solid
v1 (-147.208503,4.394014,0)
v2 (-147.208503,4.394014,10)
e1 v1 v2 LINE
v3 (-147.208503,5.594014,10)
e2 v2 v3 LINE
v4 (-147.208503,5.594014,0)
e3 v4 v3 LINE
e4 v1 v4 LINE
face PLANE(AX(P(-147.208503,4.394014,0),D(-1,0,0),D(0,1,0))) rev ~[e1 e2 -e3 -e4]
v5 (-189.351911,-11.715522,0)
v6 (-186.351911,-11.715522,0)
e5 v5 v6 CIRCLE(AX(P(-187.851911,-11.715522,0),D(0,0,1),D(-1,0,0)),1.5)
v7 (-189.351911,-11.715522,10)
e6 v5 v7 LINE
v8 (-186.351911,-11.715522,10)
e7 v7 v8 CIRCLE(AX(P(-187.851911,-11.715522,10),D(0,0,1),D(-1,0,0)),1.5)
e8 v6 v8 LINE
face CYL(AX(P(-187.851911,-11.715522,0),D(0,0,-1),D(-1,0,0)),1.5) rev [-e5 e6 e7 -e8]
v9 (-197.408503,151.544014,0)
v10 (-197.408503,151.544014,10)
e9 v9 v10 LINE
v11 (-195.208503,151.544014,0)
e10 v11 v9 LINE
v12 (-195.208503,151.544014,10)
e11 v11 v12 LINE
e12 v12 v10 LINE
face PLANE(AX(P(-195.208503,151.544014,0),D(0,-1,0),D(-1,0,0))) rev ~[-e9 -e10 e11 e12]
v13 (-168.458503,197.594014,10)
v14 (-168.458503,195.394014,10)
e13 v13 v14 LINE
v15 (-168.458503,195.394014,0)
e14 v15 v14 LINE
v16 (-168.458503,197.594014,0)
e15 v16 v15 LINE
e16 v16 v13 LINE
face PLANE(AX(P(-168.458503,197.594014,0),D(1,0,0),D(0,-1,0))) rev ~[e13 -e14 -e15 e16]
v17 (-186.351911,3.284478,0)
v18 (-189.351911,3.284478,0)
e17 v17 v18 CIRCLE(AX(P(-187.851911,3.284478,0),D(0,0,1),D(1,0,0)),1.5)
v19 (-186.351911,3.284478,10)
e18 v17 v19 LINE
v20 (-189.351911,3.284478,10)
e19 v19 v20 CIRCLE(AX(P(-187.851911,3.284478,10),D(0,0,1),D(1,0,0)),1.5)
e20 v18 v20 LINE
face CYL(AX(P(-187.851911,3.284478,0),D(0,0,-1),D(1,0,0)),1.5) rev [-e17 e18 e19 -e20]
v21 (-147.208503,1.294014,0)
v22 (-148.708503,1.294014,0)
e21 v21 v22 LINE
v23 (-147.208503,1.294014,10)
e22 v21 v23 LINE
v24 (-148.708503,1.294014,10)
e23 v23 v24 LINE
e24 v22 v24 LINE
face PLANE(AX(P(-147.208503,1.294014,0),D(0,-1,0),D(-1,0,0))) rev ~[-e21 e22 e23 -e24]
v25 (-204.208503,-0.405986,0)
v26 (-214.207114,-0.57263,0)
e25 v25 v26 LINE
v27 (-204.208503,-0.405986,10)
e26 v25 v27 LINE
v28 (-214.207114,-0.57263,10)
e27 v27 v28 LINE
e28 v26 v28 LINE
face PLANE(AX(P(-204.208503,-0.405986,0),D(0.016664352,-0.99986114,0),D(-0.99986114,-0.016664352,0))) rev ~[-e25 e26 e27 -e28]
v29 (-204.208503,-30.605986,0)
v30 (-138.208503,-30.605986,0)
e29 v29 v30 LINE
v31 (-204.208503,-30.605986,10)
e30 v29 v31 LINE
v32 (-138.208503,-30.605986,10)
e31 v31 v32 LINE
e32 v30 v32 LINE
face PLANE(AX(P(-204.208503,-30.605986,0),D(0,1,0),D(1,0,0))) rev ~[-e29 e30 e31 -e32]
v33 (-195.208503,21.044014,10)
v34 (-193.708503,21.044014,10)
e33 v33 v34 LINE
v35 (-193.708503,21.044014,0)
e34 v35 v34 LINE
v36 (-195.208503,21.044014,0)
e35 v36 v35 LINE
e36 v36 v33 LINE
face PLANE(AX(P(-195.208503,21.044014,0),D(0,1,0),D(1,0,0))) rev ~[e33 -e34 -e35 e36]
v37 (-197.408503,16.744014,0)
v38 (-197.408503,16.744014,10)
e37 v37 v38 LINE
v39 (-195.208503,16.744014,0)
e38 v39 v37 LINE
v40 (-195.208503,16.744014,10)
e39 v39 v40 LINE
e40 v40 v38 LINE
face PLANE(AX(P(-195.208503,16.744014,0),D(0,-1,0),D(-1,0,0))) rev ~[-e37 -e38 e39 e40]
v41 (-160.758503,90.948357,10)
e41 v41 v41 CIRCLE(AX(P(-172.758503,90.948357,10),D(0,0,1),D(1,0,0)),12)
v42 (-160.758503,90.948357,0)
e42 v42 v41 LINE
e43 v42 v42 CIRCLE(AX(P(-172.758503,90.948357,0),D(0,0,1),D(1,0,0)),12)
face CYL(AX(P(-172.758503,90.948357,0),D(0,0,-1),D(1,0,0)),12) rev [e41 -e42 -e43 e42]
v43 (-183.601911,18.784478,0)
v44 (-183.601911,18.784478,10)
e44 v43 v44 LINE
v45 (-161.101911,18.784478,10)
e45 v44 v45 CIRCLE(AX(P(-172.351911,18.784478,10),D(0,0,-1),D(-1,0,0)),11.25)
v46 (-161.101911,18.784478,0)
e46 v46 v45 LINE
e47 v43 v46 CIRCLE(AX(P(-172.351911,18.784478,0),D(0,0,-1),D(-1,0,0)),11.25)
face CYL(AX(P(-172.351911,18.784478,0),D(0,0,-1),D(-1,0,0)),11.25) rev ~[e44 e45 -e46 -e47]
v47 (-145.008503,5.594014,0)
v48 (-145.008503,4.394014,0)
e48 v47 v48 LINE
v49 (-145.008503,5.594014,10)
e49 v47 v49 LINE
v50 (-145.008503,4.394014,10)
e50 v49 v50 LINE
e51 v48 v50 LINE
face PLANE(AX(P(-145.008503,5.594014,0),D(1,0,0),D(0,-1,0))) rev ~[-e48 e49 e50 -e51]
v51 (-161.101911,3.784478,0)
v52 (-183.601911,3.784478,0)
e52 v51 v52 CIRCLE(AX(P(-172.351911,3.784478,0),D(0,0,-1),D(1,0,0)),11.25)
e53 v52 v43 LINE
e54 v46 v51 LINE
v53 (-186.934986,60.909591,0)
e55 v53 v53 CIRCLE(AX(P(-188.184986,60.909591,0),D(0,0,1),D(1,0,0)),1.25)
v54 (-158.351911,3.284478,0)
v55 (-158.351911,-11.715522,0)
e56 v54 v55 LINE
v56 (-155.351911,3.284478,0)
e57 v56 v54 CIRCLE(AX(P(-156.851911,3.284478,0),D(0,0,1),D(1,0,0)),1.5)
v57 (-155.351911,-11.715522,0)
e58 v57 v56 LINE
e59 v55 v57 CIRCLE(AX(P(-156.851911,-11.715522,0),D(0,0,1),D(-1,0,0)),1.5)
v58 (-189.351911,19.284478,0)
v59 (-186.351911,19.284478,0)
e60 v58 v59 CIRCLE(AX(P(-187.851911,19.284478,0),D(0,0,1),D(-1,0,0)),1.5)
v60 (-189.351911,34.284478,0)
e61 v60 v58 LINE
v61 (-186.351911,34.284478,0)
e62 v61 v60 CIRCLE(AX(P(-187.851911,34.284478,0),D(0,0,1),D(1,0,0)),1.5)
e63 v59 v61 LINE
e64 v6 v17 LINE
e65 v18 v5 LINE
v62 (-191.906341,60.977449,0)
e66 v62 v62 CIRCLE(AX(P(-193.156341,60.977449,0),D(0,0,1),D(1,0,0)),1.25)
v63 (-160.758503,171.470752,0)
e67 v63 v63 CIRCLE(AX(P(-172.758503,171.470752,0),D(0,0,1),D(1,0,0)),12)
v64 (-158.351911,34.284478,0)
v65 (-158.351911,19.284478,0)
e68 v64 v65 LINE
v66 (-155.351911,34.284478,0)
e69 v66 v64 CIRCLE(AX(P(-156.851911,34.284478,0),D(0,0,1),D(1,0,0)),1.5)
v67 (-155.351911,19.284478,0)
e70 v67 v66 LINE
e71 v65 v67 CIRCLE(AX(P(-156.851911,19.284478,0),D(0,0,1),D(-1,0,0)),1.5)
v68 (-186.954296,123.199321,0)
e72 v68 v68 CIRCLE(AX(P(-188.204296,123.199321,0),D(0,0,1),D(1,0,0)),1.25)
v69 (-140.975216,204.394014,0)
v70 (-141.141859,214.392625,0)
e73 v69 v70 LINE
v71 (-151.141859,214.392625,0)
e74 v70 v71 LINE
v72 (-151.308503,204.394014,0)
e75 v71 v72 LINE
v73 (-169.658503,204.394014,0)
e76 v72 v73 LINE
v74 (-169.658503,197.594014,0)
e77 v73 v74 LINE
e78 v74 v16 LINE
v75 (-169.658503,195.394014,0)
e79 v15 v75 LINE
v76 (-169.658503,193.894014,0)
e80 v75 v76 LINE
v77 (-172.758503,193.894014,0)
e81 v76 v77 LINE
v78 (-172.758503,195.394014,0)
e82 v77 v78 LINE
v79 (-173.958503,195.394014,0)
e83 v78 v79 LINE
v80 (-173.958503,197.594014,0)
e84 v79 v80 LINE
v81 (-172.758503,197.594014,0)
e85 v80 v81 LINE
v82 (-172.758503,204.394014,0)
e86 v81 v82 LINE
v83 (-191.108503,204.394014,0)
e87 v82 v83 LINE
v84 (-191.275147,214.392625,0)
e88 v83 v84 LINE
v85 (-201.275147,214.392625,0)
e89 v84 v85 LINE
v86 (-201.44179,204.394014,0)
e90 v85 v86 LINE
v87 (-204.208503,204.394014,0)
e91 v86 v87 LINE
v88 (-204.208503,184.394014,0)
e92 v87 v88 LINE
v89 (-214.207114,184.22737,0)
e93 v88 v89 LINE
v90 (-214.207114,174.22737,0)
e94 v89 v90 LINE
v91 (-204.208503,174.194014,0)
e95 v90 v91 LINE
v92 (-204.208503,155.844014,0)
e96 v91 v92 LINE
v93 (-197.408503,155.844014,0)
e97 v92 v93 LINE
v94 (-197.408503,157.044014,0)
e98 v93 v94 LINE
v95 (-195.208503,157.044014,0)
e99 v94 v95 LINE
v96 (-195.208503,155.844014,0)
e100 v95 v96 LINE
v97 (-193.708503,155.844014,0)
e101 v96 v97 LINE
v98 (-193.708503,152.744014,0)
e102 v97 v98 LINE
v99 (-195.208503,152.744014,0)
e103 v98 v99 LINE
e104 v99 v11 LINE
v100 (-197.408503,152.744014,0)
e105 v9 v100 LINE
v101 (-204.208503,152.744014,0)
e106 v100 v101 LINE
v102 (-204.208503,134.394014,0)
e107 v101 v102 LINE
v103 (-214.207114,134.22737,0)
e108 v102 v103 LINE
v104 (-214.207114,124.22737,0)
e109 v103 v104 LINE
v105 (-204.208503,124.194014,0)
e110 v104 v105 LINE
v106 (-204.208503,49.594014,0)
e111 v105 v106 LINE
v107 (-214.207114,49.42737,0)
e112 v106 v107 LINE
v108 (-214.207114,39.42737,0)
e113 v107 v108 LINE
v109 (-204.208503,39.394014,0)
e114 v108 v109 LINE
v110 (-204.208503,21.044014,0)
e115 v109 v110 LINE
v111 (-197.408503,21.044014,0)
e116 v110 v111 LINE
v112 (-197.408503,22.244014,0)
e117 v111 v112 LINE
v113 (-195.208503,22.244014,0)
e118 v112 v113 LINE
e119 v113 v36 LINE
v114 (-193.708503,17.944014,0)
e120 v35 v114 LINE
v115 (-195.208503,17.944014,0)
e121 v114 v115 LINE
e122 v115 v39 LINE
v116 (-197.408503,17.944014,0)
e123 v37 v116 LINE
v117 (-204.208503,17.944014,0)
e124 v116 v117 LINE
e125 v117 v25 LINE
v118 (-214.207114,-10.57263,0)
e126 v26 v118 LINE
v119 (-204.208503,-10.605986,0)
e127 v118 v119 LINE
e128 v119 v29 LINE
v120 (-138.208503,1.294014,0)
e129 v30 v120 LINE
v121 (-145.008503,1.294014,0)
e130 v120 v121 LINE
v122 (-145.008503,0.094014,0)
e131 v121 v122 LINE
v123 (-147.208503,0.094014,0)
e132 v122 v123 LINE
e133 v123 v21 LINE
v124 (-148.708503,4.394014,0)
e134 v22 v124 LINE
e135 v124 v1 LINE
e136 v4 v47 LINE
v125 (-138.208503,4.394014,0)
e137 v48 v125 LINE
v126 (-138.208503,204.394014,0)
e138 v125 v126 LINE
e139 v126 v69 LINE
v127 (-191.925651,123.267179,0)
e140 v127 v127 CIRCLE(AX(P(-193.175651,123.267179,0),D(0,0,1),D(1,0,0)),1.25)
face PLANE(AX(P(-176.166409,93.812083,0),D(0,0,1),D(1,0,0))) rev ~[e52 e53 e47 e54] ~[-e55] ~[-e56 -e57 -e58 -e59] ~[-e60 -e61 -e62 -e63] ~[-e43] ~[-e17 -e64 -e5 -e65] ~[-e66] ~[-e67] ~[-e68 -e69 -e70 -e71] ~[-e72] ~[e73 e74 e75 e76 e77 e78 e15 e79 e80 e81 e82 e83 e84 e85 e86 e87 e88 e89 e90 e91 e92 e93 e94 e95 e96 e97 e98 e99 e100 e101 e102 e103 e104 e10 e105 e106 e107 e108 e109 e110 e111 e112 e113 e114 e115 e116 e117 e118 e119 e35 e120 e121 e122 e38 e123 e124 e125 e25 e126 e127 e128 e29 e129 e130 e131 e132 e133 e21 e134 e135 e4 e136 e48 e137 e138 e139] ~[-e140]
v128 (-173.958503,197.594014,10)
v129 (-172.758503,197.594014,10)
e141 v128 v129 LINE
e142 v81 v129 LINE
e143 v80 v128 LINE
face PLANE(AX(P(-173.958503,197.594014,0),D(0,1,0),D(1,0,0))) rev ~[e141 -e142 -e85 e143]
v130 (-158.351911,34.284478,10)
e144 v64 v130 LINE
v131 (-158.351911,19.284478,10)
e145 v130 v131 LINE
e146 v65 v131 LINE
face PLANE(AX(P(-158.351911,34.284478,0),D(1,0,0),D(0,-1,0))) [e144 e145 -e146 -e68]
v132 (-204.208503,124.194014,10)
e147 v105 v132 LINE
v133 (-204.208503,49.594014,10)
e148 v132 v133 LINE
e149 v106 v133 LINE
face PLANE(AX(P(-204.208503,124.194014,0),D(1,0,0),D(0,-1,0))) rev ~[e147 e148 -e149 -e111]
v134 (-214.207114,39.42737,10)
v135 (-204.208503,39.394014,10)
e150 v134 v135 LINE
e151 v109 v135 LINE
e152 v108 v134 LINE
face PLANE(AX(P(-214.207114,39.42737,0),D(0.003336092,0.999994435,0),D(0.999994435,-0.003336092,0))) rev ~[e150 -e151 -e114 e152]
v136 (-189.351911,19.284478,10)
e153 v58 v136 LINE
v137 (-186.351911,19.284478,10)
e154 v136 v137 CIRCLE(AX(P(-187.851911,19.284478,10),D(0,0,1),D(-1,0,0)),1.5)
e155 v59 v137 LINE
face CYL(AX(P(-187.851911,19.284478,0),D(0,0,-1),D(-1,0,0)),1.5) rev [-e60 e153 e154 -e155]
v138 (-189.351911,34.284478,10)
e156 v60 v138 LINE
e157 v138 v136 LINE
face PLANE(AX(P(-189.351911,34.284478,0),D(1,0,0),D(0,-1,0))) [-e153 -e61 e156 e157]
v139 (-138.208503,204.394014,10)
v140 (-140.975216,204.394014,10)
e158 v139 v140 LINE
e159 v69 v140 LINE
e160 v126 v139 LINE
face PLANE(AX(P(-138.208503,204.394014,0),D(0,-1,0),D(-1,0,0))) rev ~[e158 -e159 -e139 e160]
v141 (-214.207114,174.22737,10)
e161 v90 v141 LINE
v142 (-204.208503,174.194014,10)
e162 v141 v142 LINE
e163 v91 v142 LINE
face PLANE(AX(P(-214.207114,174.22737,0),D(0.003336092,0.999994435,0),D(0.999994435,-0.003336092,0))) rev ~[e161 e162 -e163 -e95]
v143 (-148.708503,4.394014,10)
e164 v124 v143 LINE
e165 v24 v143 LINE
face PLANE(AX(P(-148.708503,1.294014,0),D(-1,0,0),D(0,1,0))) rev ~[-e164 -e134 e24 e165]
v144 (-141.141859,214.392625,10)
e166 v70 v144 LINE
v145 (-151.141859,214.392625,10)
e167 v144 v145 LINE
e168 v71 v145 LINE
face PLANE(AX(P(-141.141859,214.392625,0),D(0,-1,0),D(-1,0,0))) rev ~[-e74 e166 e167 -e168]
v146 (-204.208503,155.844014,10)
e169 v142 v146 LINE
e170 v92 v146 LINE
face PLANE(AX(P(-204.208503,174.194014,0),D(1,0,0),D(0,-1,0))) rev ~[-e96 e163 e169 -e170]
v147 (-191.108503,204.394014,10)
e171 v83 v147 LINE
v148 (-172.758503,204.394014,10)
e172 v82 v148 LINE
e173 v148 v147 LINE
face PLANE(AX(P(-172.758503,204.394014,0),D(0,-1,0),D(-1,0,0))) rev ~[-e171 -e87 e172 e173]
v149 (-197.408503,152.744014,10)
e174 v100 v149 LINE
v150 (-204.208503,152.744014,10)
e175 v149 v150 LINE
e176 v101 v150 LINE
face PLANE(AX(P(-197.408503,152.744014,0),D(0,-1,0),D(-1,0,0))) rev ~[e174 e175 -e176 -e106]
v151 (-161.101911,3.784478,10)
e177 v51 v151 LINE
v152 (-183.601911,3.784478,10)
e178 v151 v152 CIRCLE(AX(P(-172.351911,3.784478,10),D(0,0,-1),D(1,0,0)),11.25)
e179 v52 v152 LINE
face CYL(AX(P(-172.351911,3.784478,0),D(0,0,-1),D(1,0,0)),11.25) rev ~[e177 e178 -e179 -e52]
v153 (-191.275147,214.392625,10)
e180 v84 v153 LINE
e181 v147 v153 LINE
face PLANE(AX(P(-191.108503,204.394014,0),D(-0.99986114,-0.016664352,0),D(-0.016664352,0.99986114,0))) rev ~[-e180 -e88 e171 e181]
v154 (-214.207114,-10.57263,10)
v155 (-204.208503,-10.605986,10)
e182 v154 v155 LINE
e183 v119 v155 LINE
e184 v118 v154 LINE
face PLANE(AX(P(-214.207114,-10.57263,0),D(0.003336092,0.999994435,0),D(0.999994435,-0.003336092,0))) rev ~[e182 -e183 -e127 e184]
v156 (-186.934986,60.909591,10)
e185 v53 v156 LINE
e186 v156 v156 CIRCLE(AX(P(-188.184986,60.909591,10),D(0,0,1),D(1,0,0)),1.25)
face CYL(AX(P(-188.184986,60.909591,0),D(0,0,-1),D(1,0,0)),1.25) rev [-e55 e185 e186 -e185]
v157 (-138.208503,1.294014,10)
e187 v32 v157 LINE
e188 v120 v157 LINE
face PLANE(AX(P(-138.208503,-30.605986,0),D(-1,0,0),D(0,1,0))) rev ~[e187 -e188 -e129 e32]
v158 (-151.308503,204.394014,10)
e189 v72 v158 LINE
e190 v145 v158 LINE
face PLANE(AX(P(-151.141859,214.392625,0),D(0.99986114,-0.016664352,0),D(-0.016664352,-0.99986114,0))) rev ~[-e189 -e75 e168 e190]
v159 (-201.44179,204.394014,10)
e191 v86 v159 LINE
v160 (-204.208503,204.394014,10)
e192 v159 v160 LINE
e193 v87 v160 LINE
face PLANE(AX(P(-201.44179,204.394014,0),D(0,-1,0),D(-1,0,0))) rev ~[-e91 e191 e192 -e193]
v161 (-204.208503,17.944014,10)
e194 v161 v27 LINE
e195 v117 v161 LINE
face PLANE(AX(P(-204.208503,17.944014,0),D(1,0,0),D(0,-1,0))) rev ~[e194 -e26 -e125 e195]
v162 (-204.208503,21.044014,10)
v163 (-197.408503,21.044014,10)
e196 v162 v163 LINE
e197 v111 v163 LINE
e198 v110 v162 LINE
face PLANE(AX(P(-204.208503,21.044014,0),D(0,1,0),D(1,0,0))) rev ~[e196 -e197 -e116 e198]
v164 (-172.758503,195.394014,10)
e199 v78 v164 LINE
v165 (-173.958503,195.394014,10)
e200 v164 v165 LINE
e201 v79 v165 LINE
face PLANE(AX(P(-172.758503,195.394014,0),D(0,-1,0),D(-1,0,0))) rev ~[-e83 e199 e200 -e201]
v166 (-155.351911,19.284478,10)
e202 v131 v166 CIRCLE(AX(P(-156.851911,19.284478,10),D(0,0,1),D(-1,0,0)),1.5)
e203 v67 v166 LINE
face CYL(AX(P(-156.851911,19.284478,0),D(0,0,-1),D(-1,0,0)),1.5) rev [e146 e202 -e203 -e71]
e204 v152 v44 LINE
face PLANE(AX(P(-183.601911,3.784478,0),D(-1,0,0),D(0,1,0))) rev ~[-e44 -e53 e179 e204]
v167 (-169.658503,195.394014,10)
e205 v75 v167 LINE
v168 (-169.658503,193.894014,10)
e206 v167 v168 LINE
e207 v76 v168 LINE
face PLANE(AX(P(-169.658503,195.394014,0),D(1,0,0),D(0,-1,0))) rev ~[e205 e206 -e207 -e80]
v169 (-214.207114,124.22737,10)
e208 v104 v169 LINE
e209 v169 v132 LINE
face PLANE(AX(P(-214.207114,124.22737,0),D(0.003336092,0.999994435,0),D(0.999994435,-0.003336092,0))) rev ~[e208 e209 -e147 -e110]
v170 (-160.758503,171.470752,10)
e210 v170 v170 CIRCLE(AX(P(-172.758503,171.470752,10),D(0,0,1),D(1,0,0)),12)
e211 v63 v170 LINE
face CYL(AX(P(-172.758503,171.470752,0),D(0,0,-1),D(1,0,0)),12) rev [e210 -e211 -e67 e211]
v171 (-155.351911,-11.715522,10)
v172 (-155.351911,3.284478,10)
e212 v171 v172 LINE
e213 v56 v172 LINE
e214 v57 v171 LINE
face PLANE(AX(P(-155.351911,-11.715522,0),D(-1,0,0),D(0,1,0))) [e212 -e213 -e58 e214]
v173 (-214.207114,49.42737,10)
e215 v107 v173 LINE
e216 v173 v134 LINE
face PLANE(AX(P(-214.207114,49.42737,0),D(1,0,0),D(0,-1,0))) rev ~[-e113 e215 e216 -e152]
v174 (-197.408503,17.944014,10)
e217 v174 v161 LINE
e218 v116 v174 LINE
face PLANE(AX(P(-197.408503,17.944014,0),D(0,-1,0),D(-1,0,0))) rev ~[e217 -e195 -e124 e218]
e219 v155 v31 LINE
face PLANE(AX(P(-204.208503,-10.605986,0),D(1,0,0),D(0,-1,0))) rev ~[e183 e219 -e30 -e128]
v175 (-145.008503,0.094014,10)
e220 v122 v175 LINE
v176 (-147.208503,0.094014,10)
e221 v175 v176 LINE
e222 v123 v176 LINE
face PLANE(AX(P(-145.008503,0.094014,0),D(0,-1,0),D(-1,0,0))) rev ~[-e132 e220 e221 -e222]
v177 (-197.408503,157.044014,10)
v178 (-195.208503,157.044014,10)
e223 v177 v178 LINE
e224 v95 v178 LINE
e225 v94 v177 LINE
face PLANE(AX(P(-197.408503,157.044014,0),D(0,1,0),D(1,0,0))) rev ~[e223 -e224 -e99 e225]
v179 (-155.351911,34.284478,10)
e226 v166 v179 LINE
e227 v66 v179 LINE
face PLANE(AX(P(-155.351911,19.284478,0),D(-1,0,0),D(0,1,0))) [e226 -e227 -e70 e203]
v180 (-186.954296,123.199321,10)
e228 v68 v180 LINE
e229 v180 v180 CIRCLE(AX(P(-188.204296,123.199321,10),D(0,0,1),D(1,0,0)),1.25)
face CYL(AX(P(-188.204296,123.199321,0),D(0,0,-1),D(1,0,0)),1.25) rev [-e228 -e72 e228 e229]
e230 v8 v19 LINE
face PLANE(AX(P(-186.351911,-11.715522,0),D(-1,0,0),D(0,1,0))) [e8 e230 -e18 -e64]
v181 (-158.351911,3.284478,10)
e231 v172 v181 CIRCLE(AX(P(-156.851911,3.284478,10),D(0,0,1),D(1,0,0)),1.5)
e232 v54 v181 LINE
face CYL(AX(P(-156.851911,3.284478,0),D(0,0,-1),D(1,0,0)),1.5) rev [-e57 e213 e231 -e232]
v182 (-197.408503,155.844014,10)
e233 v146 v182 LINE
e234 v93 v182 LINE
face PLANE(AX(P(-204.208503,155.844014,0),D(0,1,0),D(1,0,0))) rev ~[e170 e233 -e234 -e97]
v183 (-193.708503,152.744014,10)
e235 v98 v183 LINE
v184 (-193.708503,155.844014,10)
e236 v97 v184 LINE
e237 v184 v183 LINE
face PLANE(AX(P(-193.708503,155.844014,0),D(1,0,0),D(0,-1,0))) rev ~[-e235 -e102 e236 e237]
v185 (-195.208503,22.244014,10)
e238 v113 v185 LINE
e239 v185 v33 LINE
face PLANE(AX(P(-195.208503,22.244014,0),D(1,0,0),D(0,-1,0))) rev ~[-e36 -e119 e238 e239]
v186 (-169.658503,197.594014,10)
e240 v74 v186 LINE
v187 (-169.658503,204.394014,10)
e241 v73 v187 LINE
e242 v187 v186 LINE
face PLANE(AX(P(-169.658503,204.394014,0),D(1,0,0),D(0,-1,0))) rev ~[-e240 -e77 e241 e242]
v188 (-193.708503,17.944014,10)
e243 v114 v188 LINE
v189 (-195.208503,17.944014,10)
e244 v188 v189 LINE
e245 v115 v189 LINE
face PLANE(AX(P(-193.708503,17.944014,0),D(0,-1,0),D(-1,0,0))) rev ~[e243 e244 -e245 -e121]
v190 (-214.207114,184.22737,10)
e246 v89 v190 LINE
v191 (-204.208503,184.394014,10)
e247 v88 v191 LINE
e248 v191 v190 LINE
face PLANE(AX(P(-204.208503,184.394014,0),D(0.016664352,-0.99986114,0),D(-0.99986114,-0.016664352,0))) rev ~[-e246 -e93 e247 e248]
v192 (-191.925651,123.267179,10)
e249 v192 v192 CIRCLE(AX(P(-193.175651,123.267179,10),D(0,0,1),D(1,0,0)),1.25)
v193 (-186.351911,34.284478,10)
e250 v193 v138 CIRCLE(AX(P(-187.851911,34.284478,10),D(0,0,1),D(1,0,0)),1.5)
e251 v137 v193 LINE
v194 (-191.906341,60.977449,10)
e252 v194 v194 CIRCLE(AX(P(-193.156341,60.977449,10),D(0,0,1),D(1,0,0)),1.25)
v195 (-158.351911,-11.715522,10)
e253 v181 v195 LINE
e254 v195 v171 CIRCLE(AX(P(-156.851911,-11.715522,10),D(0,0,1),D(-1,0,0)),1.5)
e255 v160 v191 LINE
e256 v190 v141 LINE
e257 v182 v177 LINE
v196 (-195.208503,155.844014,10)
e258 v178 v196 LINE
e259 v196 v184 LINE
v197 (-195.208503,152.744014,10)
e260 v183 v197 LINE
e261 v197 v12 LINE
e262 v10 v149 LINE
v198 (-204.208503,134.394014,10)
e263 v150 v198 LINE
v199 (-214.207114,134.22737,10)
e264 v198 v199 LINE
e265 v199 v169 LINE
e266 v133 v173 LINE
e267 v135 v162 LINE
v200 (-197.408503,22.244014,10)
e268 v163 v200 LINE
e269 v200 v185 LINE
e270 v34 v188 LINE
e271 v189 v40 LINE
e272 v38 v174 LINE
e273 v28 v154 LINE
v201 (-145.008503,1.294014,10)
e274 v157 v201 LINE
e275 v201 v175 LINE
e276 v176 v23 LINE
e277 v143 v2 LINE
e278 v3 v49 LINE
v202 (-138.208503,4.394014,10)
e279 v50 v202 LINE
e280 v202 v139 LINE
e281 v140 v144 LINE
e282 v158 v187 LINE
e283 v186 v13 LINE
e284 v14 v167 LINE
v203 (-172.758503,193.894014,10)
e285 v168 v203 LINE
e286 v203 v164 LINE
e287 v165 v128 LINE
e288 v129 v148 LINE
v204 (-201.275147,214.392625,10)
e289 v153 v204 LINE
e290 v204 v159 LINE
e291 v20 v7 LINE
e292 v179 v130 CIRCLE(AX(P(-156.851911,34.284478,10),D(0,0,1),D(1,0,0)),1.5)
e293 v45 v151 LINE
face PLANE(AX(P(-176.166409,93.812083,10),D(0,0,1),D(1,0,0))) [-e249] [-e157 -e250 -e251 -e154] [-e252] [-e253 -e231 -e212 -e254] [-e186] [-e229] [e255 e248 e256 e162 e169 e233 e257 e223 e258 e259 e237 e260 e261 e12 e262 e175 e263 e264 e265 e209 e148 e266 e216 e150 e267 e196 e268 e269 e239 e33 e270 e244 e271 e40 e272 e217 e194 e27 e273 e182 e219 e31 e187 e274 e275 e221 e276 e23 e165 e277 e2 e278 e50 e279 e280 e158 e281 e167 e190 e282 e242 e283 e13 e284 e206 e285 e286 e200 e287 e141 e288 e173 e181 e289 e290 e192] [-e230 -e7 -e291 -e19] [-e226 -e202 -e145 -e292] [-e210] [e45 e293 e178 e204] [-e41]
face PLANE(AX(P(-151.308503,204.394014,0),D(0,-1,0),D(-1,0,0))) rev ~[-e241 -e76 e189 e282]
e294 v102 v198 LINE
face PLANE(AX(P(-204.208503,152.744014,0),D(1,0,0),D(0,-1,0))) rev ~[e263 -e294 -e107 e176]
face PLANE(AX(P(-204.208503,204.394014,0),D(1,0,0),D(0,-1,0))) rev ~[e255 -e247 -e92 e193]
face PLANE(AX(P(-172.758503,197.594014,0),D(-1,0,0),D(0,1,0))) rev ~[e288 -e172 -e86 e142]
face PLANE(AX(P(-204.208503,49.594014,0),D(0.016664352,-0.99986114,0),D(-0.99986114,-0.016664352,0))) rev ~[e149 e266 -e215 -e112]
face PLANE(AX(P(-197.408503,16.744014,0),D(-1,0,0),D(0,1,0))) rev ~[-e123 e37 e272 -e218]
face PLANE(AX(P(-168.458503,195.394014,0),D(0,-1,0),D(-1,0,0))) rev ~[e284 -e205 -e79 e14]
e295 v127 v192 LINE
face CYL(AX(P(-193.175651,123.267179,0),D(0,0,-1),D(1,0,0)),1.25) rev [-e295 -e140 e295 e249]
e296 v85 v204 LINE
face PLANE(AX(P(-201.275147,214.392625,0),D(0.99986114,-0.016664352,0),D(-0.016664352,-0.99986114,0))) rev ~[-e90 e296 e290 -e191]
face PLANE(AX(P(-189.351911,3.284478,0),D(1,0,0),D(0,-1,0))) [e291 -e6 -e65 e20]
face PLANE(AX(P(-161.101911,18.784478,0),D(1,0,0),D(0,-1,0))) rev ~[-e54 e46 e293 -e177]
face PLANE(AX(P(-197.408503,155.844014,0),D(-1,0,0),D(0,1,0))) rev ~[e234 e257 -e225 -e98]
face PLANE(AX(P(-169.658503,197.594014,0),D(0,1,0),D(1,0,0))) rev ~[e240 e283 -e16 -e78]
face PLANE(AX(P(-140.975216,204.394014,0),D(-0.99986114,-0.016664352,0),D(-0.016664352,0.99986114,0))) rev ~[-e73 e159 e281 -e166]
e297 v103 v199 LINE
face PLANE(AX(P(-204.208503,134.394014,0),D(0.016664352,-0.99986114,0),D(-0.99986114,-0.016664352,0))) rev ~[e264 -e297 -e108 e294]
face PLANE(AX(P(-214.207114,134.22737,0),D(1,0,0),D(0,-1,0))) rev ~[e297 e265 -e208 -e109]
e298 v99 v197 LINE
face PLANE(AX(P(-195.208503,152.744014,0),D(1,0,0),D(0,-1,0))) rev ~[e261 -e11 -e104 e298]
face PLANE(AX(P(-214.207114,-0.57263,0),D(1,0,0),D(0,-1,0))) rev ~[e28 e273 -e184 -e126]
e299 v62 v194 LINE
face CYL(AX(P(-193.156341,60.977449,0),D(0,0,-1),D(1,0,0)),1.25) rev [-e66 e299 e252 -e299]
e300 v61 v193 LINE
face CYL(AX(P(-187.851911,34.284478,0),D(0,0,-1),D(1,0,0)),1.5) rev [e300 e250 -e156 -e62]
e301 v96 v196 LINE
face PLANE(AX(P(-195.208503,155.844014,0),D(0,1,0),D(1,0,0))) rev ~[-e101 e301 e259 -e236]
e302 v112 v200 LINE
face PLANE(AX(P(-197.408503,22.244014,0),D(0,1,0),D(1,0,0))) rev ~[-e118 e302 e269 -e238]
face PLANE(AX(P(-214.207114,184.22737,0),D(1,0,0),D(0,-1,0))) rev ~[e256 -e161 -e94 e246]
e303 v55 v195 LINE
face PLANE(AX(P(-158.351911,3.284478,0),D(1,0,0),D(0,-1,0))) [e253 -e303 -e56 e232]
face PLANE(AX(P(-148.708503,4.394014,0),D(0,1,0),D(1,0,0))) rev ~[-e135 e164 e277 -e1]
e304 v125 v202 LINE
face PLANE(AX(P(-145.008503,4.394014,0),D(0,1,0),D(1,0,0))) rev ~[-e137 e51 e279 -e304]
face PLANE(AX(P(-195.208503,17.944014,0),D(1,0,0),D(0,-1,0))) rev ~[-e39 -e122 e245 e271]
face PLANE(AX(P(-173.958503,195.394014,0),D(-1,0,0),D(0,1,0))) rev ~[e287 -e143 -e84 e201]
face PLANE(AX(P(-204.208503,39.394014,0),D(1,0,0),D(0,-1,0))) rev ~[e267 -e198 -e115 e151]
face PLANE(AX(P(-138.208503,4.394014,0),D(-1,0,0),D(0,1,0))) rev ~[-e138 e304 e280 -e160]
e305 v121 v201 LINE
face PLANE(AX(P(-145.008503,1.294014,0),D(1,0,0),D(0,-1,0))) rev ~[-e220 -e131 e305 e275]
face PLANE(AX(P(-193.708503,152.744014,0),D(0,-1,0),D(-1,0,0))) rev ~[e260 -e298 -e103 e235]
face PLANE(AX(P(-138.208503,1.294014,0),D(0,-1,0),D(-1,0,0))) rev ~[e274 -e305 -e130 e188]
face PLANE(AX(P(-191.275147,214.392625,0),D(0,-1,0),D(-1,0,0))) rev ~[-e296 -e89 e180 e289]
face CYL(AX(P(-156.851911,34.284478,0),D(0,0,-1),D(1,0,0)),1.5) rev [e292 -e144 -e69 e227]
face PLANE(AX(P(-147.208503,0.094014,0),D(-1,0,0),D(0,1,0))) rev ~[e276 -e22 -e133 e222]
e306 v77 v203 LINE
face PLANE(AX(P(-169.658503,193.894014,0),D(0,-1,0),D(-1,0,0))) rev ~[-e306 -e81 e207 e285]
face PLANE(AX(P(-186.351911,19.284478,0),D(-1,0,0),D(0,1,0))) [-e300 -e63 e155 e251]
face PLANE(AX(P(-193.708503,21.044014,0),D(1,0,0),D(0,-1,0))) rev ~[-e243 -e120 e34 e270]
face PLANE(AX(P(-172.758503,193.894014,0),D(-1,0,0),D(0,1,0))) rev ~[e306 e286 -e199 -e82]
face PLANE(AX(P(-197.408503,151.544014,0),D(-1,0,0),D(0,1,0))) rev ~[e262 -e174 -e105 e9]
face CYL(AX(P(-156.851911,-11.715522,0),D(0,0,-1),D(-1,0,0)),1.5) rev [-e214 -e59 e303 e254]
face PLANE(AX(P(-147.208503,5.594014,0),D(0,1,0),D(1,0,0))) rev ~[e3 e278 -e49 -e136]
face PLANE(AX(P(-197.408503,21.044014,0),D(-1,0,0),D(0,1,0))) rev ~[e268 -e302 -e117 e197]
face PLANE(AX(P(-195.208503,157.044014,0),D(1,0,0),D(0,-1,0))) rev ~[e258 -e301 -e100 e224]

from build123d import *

# Parameters (mm, degrees)
SKETCH_1_R      = 12
SKETCH_1_R_2    = 1.25
EXTRUDE_1_DEPTH = 10


with BuildPart() as part:
    # Эскиз1 → Бобышка-Вытянуть1 (new body)
    with BuildSketch(Plane.XY):
        Polygon((-204.208503022, -30.605986098), (-138.208503022, -30.605986098), (-138.208503022, 1.294013902), (-145.008503022, 1.294013902), (-145.008503022, 0.094013902), (-147.208503022, 0.094013902), (-147.208503022, 1.294013902), (-148.708503022, 1.294013902), (-148.708503022, 4.394013902), (-147.208503022, 4.394013902), (-147.208503022, 5.594013902), (-145.008503022, 5.594013902), (-145.008503022, 4.394013902), (-138.208503022, 4.394013902), (-138.208503022, 204.394013902), (-140.975215975, 204.394013902), (-141.141859499, 214.392625303), (-151.141859499, 214.392625303), (-151.308503022, 204.394013902), (-169.658503022, 204.394013902), (-169.658503022, 197.594013902), (-168.458503022, 197.594013902), (-168.458503022, 195.394013902), (-169.658503022, 195.394013902), (-169.658503022, 193.894013902), (-172.758503022, 193.894013902), (-172.758503022, 195.394013902), (-173.958503022, 195.394013902), (-173.958503022, 197.594013902), (-172.758503022, 197.594013902), (-172.758503022, 204.394013902), (-191.108503022, 204.394013902), (-191.275146545, 214.392625303), (-201.275146545, 214.392625303), (-201.441790069, 204.394013902), (-204.208503022, 204.394013902), (-204.208503022, 184.394013902), (-214.207114422, 184.227370379), (-214.207114422, 174.227370379), (-204.208503022, 174.194013902), (-204.208503022, 155.844013902), (-197.408503022, 155.844013902), (-197.408503022, 157.044013902), (-195.208503022, 157.044013902), (-195.208503022, 155.844013902), (-193.708503022, 155.844013902), (-193.708503022, 152.744013902), (-195.208503022, 152.744013902), (-195.208503022, 151.544013902), (-197.408503022, 151.544013902), (-197.408503022, 152.744013902), (-204.208503022, 152.744013902), (-204.208503022, 134.394013902), (-214.207114422, 134.227370379), (-214.207114422, 124.227370379), (-204.208503022, 124.194013902), (-204.208503022, 49.594013902), (-214.207114422, 49.427370379), (-214.207114422, 39.427370379), (-204.208503022, 39.394013902), (-204.208503022, 21.044013902), (-197.408503022, 21.044013902), (-197.408503022, 22.244013902), (-195.208503022, 22.244013902), (-195.208503022, 21.044013902), (-193.708503022, 21.044013902), (-193.708503022, 17.944013902), (-195.208503022, 17.944013902), (-195.208503022, 16.744013902), (-197.408503022, 16.744013902), (-197.408503022, 17.944013902), (-204.208503022, 17.944013902), (-204.208503022, -0.405986098), (-214.207114422, -0.572629621), (-214.207114422, -10.572629621), (-204.208503022, -10.605986098), align=None)
        with Locations((-172.758503022, 171.470752074)):
            Circle(SKETCH_1_R, mode=Mode.SUBTRACT)
        with Locations((-172.758503022, 90.948356806)):
            Circle(SKETCH_1_R, mode=Mode.SUBTRACT)
        with Locations((-188.184986495, 60.909591185)):
            Circle(SKETCH_1_R_2, mode=Mode.SUBTRACT)
        with Locations((-193.156341495, 60.977449185)):
            Circle(SKETCH_1_R_2, mode=Mode.SUBTRACT)
        with Locations((-188.204296495, 123.199321185)):
            Circle(SKETCH_1_R_2, mode=Mode.SUBTRACT)
        with Locations((-193.175651495, 123.267179185)):
            Circle(SKETCH_1_R_2, mode=Mode.SUBTRACT)
        with BuildLine():
            Line((-186.351911088, 19.284478243), (-186.351911088, 34.284478243))
            ThreePointArc((-186.351911088, 34.284478243), (-187.851911088, 35.784478243), (-189.351911088, 34.284478243))
            Line((-189.351911088, 34.284478243), (-189.351911088, 19.284478243))
            ThreePointArc((-189.351911088, 19.284478243), (-187.851911088, 17.784478243), (-186.351911088, 19.284478243))
        make_face(mode=Mode.SUBTRACT)
        with BuildLine():
            Line((-155.351911088, 19.284478243), (-155.351911088, 34.284478243))
            ThreePointArc((-155.351911088, 34.284478243), (-156.851911088, 35.784478243), (-158.351911088, 34.284478243))
            Line((-158.351911088, 34.284478243), (-158.351911088, 19.284478243))
            ThreePointArc((-158.351911088, 19.284478243), (-156.851911088, 17.784478243), (-155.351911088, 19.284478243))
        make_face(mode=Mode.SUBTRACT)
        with BuildLine():
            Line((-155.351911088, -11.715521757), (-155.351911088, 3.284478243))
            ThreePointArc((-155.351911088, 3.284478243), (-156.851911088, 4.784478243), (-158.351911088, 3.284478243))
            Line((-158.351911088, 3.284478243), (-158.351911088, -11.715521757))
            ThreePointArc((-158.351911088, -11.715521757), (-156.851911088, -13.215521757), (-155.351911088, -11.715521757))
        make_face(mode=Mode.SUBTRACT)
        with BuildLine():
            Line((-186.351911088, -11.715521757), (-186.351911088, 3.284478243))
            ThreePointArc((-186.351911088, 3.284478243), (-187.851911088, 4.784478243), (-189.351911088, 3.284478243))
            Line((-189.351911088, 3.284478243), (-189.351911088, -11.715521757))
            ThreePointArc((-189.351911088, -11.715521757), (-187.851911088, -13.215521757), (-186.351911088, -11.715521757))
        make_face(mode=Mode.SUBTRACT)
        with BuildLine():
            Line((-183.601911088, 3.784478243), (-183.601911088, 18.784478243))
            ThreePointArc((-183.601911088, 18.784478243), (-172.351911088, 30.034478243), (-161.101911088, 18.784478243))
            Line((-161.101911088, 18.784478243), (-161.101911088, 3.784478243))
            ThreePointArc((-161.101911088, 3.784478243), (-172.351911088, -7.465521757), (-183.601911088, 3.784478243))
        make_face(mode=Mode.SUBTRACT)
    extrude(amount=EXTRUDE_1_DEPTH)


solid = part.part
